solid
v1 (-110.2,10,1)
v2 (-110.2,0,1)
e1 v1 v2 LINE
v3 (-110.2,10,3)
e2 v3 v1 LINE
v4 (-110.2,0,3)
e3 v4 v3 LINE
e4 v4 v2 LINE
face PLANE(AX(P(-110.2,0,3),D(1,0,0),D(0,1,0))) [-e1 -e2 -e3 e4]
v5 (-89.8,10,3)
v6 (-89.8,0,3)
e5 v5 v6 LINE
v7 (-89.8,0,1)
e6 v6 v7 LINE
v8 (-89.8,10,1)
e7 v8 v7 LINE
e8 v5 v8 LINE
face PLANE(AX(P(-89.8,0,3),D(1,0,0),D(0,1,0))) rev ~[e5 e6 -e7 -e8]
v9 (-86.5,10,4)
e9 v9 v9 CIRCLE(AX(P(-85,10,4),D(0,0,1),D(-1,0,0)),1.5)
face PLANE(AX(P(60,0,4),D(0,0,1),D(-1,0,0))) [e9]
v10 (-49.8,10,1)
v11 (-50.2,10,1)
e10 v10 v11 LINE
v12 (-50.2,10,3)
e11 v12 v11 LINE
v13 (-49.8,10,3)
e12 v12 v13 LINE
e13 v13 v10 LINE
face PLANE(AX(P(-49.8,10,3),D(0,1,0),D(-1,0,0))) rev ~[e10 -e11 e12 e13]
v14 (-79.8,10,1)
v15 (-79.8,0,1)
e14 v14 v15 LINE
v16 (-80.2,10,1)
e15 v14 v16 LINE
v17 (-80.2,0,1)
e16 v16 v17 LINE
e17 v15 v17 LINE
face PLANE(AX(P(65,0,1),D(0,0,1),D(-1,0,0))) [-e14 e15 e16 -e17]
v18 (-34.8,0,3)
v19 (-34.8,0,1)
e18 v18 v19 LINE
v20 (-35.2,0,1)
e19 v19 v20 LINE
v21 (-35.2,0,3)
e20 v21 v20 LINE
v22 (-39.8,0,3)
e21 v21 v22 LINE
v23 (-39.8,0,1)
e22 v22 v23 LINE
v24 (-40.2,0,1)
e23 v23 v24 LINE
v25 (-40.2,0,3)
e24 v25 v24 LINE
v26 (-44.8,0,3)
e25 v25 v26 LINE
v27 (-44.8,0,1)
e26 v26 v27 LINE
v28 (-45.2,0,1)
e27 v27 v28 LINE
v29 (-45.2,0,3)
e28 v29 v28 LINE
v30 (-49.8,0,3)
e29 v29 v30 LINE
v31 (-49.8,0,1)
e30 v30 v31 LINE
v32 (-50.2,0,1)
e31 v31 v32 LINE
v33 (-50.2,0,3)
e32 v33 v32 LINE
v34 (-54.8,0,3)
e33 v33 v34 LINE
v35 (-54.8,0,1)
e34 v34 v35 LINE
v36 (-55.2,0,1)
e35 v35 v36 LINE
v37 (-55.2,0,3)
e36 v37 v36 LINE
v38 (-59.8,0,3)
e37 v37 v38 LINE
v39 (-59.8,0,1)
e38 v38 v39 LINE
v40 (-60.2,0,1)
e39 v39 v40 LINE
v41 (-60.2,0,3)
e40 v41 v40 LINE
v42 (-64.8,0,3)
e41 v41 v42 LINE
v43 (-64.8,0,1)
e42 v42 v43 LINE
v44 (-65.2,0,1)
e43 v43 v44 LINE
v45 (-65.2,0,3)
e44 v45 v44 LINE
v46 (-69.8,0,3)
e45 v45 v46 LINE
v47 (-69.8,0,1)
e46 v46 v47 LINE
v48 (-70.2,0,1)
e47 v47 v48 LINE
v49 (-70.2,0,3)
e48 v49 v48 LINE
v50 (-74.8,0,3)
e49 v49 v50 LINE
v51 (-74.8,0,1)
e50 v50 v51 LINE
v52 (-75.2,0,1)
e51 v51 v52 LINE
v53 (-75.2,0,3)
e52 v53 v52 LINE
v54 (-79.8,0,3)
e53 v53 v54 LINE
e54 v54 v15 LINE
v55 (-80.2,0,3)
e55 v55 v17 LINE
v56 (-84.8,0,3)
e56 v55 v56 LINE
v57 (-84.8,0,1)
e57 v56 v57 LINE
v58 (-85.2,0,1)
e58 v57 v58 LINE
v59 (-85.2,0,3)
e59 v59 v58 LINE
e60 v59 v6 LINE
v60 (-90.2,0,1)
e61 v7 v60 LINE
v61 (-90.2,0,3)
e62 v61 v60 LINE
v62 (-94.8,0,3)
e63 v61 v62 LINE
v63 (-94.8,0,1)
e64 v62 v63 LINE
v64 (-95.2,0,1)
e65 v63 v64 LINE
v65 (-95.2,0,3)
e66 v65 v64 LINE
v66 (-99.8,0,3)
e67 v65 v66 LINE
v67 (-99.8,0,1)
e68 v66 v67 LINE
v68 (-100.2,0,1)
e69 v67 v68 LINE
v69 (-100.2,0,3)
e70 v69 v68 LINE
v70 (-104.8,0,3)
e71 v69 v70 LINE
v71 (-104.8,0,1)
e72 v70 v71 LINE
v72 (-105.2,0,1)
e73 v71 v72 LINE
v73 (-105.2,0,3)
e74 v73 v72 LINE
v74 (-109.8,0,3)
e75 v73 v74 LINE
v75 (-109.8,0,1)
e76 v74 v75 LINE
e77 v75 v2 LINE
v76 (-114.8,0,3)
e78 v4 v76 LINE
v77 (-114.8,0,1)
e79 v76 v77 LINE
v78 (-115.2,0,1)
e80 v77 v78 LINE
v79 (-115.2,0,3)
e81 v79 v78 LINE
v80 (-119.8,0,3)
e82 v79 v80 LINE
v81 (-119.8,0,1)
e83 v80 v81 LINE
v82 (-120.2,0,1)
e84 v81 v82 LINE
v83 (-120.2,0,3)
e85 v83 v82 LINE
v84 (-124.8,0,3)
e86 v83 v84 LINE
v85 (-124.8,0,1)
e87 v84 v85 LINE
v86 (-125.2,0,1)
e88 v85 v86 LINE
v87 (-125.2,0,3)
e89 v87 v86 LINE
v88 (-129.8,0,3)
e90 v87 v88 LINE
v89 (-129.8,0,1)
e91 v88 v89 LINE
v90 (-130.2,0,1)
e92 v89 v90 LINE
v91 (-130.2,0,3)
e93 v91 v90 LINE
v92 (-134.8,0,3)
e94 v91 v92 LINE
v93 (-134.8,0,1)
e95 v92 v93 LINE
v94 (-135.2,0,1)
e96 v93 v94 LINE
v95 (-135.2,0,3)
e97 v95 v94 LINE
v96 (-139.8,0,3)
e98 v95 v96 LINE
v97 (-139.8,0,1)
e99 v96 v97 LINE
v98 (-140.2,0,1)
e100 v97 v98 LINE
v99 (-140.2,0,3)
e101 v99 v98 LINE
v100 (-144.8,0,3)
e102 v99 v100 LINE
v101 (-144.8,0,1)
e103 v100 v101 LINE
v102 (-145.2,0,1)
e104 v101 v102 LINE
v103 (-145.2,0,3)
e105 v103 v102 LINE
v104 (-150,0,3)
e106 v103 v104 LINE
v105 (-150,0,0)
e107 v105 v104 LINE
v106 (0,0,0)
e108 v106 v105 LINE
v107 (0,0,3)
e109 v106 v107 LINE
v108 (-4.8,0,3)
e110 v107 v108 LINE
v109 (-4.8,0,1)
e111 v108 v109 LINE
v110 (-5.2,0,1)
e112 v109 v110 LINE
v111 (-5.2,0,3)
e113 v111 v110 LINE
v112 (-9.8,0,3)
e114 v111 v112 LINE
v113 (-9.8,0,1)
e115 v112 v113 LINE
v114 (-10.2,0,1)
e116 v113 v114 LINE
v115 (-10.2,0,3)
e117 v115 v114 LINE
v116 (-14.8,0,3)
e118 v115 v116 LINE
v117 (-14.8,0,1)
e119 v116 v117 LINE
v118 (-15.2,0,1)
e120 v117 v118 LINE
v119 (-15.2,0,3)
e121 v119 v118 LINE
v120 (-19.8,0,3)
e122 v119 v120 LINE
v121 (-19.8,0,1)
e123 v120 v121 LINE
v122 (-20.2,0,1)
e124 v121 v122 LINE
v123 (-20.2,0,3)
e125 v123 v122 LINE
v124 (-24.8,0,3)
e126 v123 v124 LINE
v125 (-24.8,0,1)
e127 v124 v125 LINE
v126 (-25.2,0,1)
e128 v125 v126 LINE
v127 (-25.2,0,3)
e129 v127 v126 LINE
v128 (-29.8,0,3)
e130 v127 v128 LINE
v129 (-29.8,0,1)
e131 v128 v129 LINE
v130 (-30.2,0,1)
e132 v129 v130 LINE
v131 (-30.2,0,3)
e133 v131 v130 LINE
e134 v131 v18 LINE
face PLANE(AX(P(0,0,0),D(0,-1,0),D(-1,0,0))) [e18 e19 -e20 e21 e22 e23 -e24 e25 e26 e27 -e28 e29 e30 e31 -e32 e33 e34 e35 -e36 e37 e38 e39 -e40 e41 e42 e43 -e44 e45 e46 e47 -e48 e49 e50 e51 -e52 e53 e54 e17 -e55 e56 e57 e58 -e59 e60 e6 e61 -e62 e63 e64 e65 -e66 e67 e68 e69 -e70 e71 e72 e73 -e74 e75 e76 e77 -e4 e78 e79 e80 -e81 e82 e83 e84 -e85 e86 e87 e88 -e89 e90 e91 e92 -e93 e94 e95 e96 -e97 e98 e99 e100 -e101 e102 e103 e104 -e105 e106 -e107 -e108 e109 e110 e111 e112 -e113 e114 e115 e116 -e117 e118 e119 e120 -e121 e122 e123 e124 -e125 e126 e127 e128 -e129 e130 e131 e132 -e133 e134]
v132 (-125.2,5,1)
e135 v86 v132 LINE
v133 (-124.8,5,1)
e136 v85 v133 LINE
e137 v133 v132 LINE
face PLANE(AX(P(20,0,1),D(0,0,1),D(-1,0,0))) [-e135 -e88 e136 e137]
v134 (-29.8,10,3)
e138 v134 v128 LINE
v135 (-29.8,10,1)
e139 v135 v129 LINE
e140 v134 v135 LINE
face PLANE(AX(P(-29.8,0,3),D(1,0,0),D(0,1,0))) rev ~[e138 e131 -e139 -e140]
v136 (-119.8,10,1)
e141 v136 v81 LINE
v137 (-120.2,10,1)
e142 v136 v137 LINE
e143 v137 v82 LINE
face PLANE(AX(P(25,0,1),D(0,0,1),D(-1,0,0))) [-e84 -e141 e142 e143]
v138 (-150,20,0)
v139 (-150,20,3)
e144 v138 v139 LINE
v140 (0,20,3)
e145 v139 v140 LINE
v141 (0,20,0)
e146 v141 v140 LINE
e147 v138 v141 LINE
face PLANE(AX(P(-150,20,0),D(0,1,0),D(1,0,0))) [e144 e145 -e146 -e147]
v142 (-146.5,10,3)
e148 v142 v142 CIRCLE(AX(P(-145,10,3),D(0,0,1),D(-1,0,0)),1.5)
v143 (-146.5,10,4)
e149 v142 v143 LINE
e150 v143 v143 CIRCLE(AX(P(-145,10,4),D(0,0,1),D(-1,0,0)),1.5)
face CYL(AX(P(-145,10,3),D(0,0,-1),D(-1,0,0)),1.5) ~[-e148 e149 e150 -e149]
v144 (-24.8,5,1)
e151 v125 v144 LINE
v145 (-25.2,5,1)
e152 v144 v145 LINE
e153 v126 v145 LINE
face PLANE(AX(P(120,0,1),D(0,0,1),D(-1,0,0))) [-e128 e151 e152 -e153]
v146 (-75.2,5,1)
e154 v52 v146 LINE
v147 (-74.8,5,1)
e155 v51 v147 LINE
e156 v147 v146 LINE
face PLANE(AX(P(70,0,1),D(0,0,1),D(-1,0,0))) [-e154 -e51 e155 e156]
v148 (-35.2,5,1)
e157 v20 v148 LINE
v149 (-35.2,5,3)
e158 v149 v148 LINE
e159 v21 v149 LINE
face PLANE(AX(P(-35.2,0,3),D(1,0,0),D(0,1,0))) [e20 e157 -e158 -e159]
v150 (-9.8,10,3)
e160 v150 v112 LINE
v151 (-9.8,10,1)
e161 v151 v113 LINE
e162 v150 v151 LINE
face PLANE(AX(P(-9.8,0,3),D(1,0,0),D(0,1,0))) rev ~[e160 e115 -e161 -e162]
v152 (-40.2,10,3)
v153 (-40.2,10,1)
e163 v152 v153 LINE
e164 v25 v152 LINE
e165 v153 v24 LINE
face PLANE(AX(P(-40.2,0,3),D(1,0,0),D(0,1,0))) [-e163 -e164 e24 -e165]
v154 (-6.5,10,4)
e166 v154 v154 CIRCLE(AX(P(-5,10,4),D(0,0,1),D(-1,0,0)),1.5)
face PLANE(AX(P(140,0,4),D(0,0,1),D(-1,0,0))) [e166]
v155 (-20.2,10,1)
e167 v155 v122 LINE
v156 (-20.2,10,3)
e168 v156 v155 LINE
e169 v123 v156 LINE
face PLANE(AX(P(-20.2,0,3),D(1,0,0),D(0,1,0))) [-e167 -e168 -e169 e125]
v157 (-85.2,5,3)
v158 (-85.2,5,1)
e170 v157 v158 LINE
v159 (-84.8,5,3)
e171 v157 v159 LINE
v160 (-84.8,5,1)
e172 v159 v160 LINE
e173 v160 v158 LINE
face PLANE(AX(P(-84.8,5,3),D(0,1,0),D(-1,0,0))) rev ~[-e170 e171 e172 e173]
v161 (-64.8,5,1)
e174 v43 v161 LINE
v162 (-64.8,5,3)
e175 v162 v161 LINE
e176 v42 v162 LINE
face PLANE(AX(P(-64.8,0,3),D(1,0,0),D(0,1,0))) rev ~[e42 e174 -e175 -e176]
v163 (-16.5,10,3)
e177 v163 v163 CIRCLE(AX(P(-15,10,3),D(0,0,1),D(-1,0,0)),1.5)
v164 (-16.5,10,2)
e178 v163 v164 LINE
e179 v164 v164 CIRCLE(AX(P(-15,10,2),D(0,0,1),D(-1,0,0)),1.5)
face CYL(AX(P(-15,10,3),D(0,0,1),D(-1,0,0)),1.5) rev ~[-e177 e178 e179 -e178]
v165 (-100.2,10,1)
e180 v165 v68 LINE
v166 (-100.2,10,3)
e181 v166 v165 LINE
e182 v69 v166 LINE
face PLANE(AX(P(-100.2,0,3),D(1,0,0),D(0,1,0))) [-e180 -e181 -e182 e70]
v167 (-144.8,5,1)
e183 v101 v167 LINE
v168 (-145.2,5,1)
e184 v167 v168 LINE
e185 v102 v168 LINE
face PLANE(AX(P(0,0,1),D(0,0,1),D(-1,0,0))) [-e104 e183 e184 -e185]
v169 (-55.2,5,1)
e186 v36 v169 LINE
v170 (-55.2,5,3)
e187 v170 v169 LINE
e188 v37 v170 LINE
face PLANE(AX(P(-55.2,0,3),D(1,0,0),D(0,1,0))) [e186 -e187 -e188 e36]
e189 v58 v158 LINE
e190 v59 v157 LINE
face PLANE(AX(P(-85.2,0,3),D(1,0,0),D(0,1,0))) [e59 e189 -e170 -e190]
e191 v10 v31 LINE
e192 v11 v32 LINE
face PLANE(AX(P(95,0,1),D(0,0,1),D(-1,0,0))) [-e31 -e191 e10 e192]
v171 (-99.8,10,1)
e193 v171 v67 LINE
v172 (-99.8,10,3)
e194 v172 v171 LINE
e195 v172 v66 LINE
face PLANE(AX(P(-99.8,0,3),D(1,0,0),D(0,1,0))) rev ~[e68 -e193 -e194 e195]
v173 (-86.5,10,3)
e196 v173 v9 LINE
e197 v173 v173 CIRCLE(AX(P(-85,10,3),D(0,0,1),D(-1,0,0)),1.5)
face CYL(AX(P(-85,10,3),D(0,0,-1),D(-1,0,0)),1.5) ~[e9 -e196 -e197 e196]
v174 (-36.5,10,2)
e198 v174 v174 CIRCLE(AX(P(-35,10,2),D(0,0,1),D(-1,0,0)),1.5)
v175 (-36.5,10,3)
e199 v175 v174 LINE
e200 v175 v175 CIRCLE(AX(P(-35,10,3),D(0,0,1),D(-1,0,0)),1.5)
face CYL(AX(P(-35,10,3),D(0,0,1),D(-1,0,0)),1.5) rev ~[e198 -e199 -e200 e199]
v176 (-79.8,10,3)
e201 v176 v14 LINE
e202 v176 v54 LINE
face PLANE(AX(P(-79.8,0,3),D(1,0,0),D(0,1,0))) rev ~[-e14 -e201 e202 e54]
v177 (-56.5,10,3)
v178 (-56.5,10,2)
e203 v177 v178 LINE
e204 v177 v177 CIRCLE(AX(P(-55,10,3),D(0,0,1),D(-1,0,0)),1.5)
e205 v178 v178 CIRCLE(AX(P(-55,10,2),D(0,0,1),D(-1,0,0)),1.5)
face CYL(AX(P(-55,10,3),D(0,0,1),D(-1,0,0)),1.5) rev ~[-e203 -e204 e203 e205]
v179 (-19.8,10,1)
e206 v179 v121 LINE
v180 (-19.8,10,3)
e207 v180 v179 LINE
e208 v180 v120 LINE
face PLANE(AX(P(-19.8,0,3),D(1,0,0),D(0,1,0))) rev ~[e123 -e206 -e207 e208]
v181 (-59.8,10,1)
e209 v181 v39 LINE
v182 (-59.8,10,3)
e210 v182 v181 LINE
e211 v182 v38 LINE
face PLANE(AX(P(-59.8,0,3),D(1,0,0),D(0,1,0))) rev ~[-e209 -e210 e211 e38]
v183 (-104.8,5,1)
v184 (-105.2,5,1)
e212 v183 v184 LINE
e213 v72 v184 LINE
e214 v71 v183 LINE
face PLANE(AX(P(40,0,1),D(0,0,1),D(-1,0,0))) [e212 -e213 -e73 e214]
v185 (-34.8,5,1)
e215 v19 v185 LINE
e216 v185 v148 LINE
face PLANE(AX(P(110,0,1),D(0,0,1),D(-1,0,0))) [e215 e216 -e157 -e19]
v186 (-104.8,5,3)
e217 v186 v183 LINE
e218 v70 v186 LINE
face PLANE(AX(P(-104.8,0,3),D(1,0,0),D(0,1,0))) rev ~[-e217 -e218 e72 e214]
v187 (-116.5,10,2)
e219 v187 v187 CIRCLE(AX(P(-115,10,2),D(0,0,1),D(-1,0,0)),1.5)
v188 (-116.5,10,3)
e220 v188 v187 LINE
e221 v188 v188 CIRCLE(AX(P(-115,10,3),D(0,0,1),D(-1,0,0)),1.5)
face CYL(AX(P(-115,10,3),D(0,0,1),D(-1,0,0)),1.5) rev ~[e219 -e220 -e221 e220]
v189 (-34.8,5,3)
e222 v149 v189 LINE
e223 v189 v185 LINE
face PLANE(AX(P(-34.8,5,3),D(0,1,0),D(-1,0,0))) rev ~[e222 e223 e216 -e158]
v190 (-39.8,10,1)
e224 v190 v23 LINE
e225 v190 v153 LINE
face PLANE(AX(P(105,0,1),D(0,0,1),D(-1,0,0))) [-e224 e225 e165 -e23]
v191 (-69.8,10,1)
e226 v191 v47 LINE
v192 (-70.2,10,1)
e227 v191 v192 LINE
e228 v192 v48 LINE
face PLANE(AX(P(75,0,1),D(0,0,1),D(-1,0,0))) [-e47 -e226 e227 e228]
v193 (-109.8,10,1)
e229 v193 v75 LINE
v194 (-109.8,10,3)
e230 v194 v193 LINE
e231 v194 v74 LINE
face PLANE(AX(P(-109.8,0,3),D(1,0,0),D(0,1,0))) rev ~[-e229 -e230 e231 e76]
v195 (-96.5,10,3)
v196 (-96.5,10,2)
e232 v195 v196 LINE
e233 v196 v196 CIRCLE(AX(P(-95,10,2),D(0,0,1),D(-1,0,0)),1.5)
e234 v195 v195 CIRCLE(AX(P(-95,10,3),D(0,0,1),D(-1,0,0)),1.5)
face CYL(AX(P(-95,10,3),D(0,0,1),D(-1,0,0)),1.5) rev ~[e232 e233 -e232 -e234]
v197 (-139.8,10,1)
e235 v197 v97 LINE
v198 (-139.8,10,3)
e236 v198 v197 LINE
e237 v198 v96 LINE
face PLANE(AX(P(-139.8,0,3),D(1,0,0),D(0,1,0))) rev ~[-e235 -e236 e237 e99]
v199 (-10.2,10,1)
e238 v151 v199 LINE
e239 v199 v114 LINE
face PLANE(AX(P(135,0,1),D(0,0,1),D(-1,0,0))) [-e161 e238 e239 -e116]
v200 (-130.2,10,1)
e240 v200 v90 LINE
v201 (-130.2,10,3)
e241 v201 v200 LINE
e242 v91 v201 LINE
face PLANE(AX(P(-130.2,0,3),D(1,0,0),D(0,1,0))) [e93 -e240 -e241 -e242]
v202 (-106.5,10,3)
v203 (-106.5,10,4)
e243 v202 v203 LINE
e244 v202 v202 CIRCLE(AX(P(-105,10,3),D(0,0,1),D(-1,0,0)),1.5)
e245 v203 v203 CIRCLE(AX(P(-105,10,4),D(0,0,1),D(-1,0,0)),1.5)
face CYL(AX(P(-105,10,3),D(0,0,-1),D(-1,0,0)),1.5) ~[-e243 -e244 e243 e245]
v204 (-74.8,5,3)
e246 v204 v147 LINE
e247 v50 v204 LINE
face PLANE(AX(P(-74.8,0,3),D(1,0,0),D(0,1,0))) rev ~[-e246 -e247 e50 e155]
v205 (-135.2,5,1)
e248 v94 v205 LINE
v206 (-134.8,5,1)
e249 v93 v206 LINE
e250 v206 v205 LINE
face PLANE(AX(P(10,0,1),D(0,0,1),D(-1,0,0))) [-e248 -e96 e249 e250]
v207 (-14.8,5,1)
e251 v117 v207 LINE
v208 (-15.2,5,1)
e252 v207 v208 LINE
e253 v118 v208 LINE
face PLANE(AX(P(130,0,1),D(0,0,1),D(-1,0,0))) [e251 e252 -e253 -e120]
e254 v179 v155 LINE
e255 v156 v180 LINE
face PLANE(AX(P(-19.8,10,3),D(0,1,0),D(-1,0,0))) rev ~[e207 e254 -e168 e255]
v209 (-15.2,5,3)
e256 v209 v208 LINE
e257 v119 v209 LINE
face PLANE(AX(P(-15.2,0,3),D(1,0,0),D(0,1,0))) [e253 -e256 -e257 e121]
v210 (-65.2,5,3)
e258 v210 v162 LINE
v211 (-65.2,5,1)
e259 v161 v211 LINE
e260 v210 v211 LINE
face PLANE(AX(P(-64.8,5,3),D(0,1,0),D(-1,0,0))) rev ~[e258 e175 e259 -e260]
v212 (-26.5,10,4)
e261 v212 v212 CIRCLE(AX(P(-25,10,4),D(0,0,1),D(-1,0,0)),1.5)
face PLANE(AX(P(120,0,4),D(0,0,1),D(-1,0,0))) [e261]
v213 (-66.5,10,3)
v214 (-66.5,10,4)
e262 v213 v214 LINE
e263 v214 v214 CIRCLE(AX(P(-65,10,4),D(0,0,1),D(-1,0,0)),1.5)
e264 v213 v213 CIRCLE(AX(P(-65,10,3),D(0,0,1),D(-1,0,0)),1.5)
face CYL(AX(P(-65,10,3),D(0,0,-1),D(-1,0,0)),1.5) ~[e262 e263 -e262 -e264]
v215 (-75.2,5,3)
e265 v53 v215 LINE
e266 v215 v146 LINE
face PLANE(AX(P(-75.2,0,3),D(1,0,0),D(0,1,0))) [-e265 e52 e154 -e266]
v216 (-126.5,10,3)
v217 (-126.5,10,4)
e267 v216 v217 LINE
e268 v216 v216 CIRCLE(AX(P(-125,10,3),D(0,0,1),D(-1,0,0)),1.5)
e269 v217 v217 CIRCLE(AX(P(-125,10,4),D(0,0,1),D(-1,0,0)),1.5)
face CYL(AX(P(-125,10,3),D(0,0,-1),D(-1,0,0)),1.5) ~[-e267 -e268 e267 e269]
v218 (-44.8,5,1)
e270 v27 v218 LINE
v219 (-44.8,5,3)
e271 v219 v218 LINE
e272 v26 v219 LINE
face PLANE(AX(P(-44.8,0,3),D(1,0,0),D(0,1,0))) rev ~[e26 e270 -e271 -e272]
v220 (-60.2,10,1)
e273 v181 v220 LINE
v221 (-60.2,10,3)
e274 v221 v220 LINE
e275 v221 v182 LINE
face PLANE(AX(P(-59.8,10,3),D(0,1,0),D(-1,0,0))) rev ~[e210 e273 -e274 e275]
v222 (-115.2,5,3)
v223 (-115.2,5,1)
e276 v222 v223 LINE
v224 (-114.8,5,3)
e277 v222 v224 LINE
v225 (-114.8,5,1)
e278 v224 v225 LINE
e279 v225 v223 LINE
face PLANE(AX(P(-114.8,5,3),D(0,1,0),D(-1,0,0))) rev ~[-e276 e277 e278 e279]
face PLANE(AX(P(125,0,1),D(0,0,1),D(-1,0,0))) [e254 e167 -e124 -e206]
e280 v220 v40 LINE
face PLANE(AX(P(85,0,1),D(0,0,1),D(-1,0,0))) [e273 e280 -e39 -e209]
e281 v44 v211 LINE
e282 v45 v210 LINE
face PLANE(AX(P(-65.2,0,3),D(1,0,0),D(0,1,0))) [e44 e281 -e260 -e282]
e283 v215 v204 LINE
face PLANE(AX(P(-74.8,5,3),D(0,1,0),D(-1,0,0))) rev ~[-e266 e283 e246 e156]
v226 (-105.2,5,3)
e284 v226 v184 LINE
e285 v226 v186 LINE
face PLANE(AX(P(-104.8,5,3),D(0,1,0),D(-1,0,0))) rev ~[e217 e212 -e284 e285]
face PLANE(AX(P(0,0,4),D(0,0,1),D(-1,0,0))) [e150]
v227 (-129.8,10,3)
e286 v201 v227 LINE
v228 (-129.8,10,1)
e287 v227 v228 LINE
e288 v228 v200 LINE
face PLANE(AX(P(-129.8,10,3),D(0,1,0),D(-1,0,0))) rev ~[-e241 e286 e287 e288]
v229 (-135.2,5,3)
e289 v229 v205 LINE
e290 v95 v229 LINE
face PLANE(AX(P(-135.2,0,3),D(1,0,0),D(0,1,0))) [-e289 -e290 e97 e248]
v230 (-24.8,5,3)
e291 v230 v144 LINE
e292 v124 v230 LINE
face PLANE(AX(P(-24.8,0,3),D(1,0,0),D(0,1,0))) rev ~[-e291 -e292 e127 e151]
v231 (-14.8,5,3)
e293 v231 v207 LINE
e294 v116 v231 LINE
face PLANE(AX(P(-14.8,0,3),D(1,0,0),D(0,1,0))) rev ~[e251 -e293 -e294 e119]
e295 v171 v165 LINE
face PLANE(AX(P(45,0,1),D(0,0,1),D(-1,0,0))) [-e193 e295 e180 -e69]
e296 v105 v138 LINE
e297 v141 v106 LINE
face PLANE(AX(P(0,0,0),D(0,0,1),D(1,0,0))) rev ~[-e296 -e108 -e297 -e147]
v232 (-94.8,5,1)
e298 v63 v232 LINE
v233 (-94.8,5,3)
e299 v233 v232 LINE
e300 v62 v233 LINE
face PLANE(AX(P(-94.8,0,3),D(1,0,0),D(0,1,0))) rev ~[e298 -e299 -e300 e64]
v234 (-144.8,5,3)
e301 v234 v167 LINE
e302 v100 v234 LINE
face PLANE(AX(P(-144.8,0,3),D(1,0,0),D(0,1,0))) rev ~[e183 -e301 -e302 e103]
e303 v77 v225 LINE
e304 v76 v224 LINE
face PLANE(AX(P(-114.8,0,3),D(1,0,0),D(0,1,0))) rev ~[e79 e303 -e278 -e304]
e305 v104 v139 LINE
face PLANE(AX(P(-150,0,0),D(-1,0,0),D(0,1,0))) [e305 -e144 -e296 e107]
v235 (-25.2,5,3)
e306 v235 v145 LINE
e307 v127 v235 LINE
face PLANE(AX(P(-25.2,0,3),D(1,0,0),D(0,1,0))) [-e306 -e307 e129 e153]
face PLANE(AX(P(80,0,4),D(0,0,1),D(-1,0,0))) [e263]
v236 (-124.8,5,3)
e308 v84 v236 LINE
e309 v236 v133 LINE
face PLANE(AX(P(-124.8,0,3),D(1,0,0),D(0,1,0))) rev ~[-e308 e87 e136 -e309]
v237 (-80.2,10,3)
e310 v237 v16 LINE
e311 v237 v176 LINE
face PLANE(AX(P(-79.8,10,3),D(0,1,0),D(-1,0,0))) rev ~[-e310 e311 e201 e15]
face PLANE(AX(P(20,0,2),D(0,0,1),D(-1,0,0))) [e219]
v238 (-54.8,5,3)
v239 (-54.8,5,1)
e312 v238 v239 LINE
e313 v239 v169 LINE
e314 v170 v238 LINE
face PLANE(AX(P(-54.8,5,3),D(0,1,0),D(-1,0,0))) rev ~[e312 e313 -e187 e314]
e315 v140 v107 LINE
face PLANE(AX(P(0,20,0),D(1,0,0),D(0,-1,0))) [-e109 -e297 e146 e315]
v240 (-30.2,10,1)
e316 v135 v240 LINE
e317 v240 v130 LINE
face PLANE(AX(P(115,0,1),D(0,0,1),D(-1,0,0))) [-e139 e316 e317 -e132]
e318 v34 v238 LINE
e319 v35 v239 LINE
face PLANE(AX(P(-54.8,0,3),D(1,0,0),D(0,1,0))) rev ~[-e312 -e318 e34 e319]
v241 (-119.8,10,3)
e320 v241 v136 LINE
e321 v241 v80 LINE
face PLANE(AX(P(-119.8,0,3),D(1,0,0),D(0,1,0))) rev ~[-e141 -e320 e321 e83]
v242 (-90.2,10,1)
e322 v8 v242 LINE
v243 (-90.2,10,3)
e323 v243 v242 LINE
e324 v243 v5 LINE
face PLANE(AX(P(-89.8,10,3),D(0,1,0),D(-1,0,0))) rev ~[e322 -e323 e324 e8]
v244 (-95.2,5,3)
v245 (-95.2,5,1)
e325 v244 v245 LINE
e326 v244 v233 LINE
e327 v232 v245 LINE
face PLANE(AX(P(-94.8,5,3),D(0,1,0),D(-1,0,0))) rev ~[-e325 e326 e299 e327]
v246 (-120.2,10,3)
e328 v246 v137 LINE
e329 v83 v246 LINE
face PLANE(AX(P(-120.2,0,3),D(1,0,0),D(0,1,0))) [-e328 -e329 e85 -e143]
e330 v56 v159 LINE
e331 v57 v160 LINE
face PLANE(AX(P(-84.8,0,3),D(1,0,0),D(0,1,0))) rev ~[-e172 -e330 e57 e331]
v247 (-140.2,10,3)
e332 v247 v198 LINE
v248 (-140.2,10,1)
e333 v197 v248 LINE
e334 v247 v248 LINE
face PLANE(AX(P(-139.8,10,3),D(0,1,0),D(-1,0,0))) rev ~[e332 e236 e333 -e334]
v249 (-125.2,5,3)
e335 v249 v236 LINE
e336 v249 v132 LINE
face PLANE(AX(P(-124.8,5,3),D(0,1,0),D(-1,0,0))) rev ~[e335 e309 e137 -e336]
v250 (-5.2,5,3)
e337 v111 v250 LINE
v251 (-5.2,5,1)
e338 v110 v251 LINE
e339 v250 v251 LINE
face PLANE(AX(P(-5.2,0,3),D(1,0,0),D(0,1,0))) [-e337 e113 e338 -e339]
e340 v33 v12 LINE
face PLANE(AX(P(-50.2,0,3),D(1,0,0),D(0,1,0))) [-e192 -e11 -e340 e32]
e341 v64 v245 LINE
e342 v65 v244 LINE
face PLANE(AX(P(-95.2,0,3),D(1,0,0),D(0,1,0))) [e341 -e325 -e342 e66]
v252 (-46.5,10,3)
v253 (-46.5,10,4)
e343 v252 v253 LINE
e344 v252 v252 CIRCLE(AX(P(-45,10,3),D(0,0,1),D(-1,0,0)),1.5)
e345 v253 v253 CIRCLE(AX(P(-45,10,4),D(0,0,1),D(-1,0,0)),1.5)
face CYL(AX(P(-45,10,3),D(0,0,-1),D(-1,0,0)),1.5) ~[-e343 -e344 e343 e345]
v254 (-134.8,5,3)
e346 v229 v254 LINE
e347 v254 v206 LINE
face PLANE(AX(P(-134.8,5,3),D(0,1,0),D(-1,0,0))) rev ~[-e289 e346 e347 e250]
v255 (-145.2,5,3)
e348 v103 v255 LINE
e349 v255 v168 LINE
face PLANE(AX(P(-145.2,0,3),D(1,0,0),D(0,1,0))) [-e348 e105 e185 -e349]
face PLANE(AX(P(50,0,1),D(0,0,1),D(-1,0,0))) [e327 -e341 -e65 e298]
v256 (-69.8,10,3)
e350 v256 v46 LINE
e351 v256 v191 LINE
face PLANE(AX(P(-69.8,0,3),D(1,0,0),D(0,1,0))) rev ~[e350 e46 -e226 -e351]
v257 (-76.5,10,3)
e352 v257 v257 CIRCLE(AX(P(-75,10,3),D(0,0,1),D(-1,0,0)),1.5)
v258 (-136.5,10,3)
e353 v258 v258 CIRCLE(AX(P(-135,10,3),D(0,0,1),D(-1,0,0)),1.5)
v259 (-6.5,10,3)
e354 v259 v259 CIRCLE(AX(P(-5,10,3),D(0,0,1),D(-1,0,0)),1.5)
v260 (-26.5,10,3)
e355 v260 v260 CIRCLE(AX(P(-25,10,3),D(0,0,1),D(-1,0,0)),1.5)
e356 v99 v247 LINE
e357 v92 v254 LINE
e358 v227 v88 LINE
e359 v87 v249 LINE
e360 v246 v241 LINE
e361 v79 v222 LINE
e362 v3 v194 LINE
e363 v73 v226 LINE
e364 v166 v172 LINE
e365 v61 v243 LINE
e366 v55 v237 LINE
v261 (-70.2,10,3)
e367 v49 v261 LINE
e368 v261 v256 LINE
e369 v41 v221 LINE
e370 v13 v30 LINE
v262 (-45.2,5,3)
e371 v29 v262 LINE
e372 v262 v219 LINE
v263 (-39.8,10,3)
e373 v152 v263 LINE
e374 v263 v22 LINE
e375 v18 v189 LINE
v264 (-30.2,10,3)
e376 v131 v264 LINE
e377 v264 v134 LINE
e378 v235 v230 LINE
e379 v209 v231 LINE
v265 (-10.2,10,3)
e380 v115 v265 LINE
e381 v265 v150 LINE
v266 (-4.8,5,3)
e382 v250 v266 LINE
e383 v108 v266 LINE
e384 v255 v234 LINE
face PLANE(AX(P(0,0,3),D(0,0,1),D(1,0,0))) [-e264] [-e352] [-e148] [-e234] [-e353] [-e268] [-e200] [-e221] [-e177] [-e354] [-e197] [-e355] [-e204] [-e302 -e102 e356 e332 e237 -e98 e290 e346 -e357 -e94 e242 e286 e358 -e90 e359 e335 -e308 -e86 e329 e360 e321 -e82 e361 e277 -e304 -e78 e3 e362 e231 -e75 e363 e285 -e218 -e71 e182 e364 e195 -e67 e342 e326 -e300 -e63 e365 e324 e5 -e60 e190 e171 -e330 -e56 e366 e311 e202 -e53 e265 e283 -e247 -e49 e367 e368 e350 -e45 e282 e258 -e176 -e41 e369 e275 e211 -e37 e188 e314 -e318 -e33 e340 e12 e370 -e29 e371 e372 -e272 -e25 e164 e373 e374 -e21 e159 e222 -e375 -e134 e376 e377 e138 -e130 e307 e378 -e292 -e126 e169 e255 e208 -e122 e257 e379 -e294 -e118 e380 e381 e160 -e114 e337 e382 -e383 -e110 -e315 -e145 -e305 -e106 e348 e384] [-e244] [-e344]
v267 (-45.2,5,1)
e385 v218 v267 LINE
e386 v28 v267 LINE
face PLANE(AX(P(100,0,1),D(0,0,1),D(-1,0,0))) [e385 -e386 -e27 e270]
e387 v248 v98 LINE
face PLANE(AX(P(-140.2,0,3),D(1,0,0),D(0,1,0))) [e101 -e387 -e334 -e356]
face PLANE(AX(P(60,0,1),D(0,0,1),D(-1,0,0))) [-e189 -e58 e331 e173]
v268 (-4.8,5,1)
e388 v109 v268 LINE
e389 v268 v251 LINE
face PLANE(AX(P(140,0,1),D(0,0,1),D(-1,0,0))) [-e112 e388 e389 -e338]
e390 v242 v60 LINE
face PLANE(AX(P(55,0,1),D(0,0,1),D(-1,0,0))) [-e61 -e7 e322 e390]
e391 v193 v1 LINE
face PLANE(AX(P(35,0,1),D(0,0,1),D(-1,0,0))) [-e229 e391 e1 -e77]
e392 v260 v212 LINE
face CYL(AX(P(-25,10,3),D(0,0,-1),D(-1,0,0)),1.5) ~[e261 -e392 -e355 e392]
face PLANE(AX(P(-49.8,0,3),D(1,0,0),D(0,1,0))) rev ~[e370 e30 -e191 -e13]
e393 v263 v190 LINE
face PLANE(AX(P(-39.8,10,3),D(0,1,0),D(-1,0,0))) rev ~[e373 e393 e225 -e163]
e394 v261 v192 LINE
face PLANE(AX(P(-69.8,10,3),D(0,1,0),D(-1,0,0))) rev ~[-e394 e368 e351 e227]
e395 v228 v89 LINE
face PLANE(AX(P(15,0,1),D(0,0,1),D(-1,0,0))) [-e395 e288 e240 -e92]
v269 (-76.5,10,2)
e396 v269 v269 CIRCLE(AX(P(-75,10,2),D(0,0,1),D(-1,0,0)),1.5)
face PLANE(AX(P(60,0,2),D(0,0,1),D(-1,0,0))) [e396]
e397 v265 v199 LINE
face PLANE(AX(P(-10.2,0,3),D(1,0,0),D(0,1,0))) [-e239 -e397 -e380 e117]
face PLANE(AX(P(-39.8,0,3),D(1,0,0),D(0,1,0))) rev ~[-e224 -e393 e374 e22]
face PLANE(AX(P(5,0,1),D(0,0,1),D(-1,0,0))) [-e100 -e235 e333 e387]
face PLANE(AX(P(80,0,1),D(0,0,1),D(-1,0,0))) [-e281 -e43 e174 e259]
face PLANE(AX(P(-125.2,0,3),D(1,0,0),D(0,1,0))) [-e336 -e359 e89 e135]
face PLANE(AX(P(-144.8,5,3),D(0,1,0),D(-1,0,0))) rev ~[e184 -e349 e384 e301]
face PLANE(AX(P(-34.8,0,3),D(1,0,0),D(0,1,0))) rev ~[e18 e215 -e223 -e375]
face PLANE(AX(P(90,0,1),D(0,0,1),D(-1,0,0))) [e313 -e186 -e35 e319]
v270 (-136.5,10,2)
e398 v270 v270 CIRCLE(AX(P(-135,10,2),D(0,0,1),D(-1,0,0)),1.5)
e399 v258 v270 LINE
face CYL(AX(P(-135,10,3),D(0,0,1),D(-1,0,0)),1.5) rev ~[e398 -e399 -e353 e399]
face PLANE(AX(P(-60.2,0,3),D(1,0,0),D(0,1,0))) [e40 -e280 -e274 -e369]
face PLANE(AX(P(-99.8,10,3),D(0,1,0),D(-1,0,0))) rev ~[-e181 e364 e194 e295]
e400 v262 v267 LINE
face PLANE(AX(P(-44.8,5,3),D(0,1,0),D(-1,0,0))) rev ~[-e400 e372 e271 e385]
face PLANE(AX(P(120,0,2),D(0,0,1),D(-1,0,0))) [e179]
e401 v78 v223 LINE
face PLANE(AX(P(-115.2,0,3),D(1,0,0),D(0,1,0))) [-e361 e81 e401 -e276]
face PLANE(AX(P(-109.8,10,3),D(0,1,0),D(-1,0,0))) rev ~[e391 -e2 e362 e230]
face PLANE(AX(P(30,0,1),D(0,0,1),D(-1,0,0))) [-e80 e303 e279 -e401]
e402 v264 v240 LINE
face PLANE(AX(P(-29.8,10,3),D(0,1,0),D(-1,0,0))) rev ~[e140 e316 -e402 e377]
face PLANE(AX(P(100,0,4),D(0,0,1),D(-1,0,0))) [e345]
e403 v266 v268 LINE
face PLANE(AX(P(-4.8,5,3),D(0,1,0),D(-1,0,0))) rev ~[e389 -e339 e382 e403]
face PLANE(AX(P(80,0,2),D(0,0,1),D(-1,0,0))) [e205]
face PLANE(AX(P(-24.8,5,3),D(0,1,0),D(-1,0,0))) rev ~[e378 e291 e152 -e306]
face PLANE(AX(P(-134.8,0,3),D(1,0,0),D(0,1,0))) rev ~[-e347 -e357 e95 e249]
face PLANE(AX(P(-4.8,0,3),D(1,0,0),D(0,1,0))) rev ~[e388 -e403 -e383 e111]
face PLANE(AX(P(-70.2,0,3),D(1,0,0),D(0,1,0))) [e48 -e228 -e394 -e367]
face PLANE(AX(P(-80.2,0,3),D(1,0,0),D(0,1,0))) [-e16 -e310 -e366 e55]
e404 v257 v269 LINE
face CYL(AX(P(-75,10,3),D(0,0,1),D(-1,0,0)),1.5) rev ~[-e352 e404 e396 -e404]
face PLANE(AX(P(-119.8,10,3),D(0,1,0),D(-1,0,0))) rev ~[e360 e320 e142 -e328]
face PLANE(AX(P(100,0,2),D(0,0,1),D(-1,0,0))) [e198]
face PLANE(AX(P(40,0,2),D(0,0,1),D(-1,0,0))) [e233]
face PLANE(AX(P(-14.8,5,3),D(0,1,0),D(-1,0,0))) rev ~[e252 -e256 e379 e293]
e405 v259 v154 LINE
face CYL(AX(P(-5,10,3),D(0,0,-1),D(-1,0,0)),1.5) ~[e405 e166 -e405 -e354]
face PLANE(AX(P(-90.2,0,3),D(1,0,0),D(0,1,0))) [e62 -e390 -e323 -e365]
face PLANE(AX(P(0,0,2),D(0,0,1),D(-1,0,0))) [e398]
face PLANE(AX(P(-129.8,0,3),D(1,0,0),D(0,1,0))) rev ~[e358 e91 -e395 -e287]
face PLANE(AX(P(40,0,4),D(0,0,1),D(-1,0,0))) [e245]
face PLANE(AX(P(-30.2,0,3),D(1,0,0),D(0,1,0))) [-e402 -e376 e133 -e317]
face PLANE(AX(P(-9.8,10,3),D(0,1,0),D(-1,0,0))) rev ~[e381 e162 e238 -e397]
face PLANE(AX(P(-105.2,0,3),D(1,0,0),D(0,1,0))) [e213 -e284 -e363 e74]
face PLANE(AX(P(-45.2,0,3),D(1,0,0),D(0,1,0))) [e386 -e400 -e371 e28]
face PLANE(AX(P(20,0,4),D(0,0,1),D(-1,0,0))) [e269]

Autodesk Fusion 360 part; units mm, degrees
sketch "Sketch1" plane through (0, 0, 0) normal (0, 0, 1) x (1, 0, 0)
  line L0 (0, 0) -> (-150, 0)
  line L1 (-150, 0) -> (-150, 20)
  line L2 (-150, 20) -> (0, 20)
  line L3 (0, 20) -> (0, 0)
  dimension "d1" = 150
  dimension "d2" = 20
extrude "Extrude1" add sketch "Sketch1" along normal blind 3
sketch "Sketch2" plane through (0, 0, 3) normal (0, 0, 1) x (-1, 0, 0)
  line L0 (0, -20) -> (150, -20)
  line L1 (150, -20) -> (150, 0)
  line L2 (150, 0) -> (0, 0)
  line L3 (0, 0) -> (0, -20)
  line L4 (150, 0) -> (145, 0)
  line L5 (145, 0) -> (145.2, 0)
  line L6 (145.2, 0) -> (145.2, -5)
  line L7 (145.2, -5) -> (145, -5)
  line L8 (145, -5) -> (145, 0)
  line L9 (145, 0) -> (144.8, 0)
  line L10 (144.8, 0) -> (144.8, -5)
  line L11 (144.8, -5) -> (145, -5)
  line L12 (145, -5) -> (145, 0)
  dimension "d5" = 0.2
  dimension "d6" = 5
  dimension "d7" = 5
extrude "Extrude2" cut sketch "Sketch2" against normal blind 2 contours L2 L8 L9 L10 L11 L12 | L2 L4 L5 L6 L7 L8 L12
pattern_linear "R-Pattern1" count 29 spacing 5 along (1, 0, 0) of "Extrude2"
extrude "Extrude3" cut 14 faces at (-139.9333, 5, 2.3333) (-129.9333, 5, 2.3333) (-119.9333, 5, 2.3333) (-109.9333, 5, 2.3333) (-99.9333, 5, 2.3333) (-89.9333, 5, 2.3333) (-79.9333, 5, 2.3333) (-69.9333, 5, 2.3333) (-59.9333, 5, 2.3333) (-49.9333, 5, 2.3333) (-39.9333, 5, 2.3333) (-29.9333, 5, 2.3333) (-19.9333, 5, 2.3333) (-9.9333, 5, 2.3333) along direction (0, 1, 0) blind 5
sketch "Sketch3" plane through (0, 0, 3) normal (0, 0, 1) x (-1, 0, 0)
  line L0 (19.8, -10) -> (19.8, 0)
  line L1 (19.8, 0) -> (15.2, 0)
  line L2 (15.2, 0) -> (15.2, -5)
  line L3 (15.2, -5) -> (14.8, -5)
  line L4 (14.8, -5) -> (14.8, 0)
  line L5 (14.8, 0) -> (10.2, 0)
  line L6 (10.2, 0) -> (10.2, -10)
  line L7 (10.2, -10) -> (9.8, -10)
  line L8 (9.8, -10) -> (9.8, 0)
  line L9 (9.8, 0) -> (5.2, 0)
  line L10 (5.2, 0) -> (5.2, -5)
  line L11 (5.2, -5) -> (4.8, -5)
  line L12 (4.8, -5) -> (4.8, 0)
  line L13 (4.8, 0) -> (0, 0)
  line L14 (0, 0) -> (0, -20)
  line L15 (0, -20) -> (150, -20)
  line L16 (150, -20) -> (150, 0)
  line L17 (150, 0) -> (145.2, 0)
  line L18 (145.2, 0) -> (145.2, -5)
  line L19 (145.2, -5) -> (144.8, -5)
  line L20 (144.8, -5) -> (144.8, 0)
  line L21 (144.8, 0) -> (140.2, 0)
  line L22 (140.2, 0) -> (140.2, -10)
  line L23 (140.2, -10) -> (139.8, -10)
  line L24 (139.8, -10) -> (139.8, 0)
  line L25 (139.8, 0) -> (135.2, 0)
  line L26 (135.2, 0) -> (135.2, -5)
  line L27 (135.2, -5) -> (134.8, -5)
  line L28 (134.8, -5) -> (134.8, 0)
  line L29 (134.8, 0) -> (130.2, 0)
  line L30 (130.2, 0) -> (130.2, -10)
  line L31 (130.2, -10) -> (129.8, -10)
  line L32 (129.8, -10) -> (129.8, 0)
  line L33 (129.8, 0) -> (125.2, 0)
  line L34 (125.2, 0) -> (125.2, -5)
  line L35 (125.2, -5) -> (124.8, -5)
  line L36 (124.8, -5) -> (124.8, 0)
  line L37 (124.8, 0) -> (120.2, 0)
  line L38 (120.2, 0) -> (120.2, -10)
  line L39 (120.2, -10) -> (119.8, -10)
  line L40 (119.8, -10) -> (119.8, 0)
  line L41 (119.8, 0) -> (115.2, 0)
  line L42 (115.2, 0) -> (115.2, -5)
  line L43 (115.2, -5) -> (114.8, -5)
  line L44 (114.8, -5) -> (114.8, 0)
  line L45 (114.8, 0) -> (110.2, 0)
  line L46 (110.2, 0) -> (110.2, -10)
  line L47 (110.2, -10) -> (109.8, -10)
  line L48 (109.8, -10) -> (109.8, 0)
  line L49 (109.8, 0) -> (105.2, 0)
  line L50 (105.2, 0) -> (105.2, -5)
  line L51 (105.2, -5) -> (104.8, -5)
  line L52 (104.8, -5) -> (104.8, 0)
  line L53 (104.8, 0) -> (100.2, 0)
  line L54 (100.2, 0) -> (100.2, -10)
  line L55 (100.2, -10) -> (99.8, -10)
  line L56 (99.8, -10) -> (99.8, 0)
  line L57 (99.8, 0) -> (95.2, 0)
  line L58 (95.2, 0) -> (95.2, -5)
  line L59 (95.2, -5) -> (94.8, -5)
  line L60 (94.8, -5) -> (94.8, 0)
  line L61 (94.8, 0) -> (90.2, 0)
  line L62 (90.2, 0) -> (90.2, -10)
  line L63 (90.2, -10) -> (89.8, -10)
  line L64 (89.8, -10) -> (89.8, 0)
  line L65 (89.8, 0) -> (85.2, 0)
  line L66 (85.2, 0) -> (85.2, -5)
  line L67 (85.2, -5) -> (84.8, -5)
  line L68 (84.8, -5) -> (84.8, 0)
  line L69 (84.8, 0) -> (80.2, 0)
  line L70 (80.2, 0) -> (80.2, -10)
  line L71 (80.2, -10) -> (79.8, -10)
  line L72 (79.8, -10) -> (79.8, 0)
  line L73 (79.8, 0) -> (75.2, 0)
  line L74 (75.2, 0) -> (75.2, -5)
  line L75 (75.2, -5) -> (74.8, -5)
  line L76 (74.8, -5) -> (74.8, 0)
  line L77 (74.8, 0) -> (70.2, 0)
  line L78 (70.2, 0) -> (70.2, -10)
  line L79 (70.2, -10) -> (69.8, -10)
  line L80 (69.8, -10) -> (69.8, 0)
  line L81 (69.8, 0) -> (65.2, 0)
  line L82 (65.2, 0) -> (65.2, -5)
  line L83 (65.2, -5) -> (64.8, -5)
  line L84 (64.8, -5) -> (64.8, 0)
  line L85 (64.8, 0) -> (60.2, 0)
  line L86 (60.2, 0) -> (60.2, -10)
  line L87 (60.2, -10) -> (59.8, -10)
  line L88 (59.8, -10) -> (59.8, 0)
  line L89 (59.8, 0) -> (55.2, 0)
  line L90 (55.2, 0) -> (55.2, -5)
  line L91 (55.2, -5) -> (54.8, -5)
  line L92 (54.8, -5) -> (54.8, 0)
  line L93 (54.8, 0) -> (50.2, 0)
  line L94 (50.2, 0) -> (50.2, -10)
  line L95 (50.2, -10) -> (49.8, -10)
  line L96 (49.8, -10) -> (49.8, 0)
  line L97 (49.8, 0) -> (45.2, 0)
  line L98 (45.2, 0) -> (45.2, -5)
  line L99 (45.2, -5) -> (44.8, -5)
  line L100 (44.8, -5) -> (44.8, 0)
  line L101 (44.8, 0) -> (40.2, 0)
  line L102 (40.2, 0) -> (40.2, -10)
  line L103 (40.2, -10) -> (39.8, -10)
  line L104 (39.8, -10) -> (39.8, 0)
  line L105 (39.8, 0) -> (35.2, 0)
  line L106 (35.2, 0) -> (35.2, -5)
  line L107 (35.2, -5) -> (34.8, -5)
  line L108 (34.8, -5) -> (34.8, 0)
  line L109 (34.8, 0) -> (30.2, 0)
  line L110 (30.2, 0) -> (30.2, -10)
  line L111 (30.2, -10) -> (29.8, -10)
  line L112 (29.8, -10) -> (29.8, 0)
  line L113 (29.8, 0) -> (25.2, 0)
  line L114 (25.2, 0) -> (25.2, -5)
  line L115 (25.2, -5) -> (24.8, -5)
  line L116 (24.8, -5) -> (24.8, 0)
  line L117 (24.8, 0) -> (20.2, 0)
  line L118 (20.2, 0) -> (20.2, -10)
  line L119 (20.2, -10) -> (19.8, -10)
  circle A0 centre (145, -10) radius 1.5
  dimension "d16" = 3
extrude "Extrude4" add sketch "Sketch3" along normal blind 1 contours A0
pattern_linear "R-Pattern2" count 8 spacing 20 along (1, 0, 0) of "Extrude4"
sketch "Sketch4" plane through (0, 0, 3) normal (0, 0, 1) x (-1, 0, 0)
  circle A0 centre (5, -10) radius 1.5
  circle A1 centre (25, -10) radius 1.5
  circle A2 centre (45, -10) radius 1.5
  circle A3 centre (65, -10) radius 1.5
  circle A4 centre (85, -10) radius 1.5
  circle A5 centre (105, -10) radius 1.5
  circle A6 centre (125, -10) radius 1.5
  circle A7 centre (145, -10) radius 1.5
  line L0 (19.8, -10) -> (19.8, 0)
  line L1 (19.8, 0) -> (15.2, 0)
  line L2 (15.2, 0) -> (15.2, -5)
  line L3 (15.2, -5) -> (14.8, -5)
  line L4 (14.8, -5) -> (14.8, 0)
  line L5 (14.8, 0) -> (10.2, 0)
  line L6 (10.2, 0) -> (10.2, -10)
  line L7 (10.2, -10) -> (9.8, -10)
  line L8 (9.8, -10) -> (9.8, 0)
  line L9 (9.8, 0) -> (5.2, 0)
  line L10 (5.2, 0) -> (5.2, -5)
  line L11 (5.2, -5) -> (4.8, -5)
  line L12 (4.8, -5) -> (4.8, 0)
  line L13 (4.8, 0) -> (0, 0)
  line L14 (0, 0) -> (0, -20)
  line L15 (0, -20) -> (150, -20)
  line L16 (150, -20) -> (150, 0)
  line L17 (150, 0) -> (145.2, 0)
  line L18 (145.2, 0) -> (145.2, -5)
  line L19 (145.2, -5) -> (144.8, -5)
  line L20 (144.8, -5) -> (144.8, 0)
  line L21 (144.8, 0) -> (140.2, 0)
  line L22 (140.2, 0) -> (140.2, -10)
  line L23 (140.2, -10) -> (139.8, -10)
  line L24 (139.8, -10) -> (139.8, 0)
  line L25 (139.8, 0) -> (135.2, 0)
  line L26 (135.2, 0) -> (135.2, -5)
  line L27 (135.2, -5) -> (134.8, -5)
  line L28 (134.8, -5) -> (134.8, 0)
  line L29 (134.8, 0) -> (130.2, 0)
  line L30 (130.2, 0) -> (130.2, -10)
  line L31 (130.2, -10) -> (129.8, -10)
  line L32 (129.8, -10) -> (129.8, 0)
  line L33 (129.8, 0) -> (125.2, 0)
  line L34 (125.2, 0) -> (125.2, -5)
  line L35 (125.2, -5) -> (124.8, -5)
  line L36 (124.8, -5) -> (124.8, 0)
  line L37 (124.8, 0) -> (120.2, 0)
  line L38 (120.2, 0) -> (120.2, -10)
  line L39 (120.2, -10) -> (119.8, -10)
  line L40 (119.8, -10) -> (119.8, 0)
  line L41 (119.8, 0) -> (115.2, 0)
  line L42 (115.2, 0) -> (115.2, -5)
  line L43 (115.2, -5) -> (114.8, -5)
  line L44 (114.8, -5) -> (114.8, 0)
  line L45 (114.8, 0) -> (110.2, 0)
  line L46 (110.2, 0) -> (110.2, -10)
  line L47 (110.2, -10) -> (109.8, -10)
  line L48 (109.8, -10) -> (109.8, 0)
  line L49 (109.8, 0) -> (105.2, 0)
  line L50 (105.2, 0) -> (105.2, -5)
  line L51 (105.2, -5) -> (104.8, -5)
  line L52 (104.8, -5) -> (104.8, 0)
  line L53 (104.8, 0) -> (100.2, 0)
  line L54 (100.2, 0) -> (100.2, -10)
  line L55 (100.2, -10) -> (99.8, -10)
  line L56 (99.8, -10) -> (99.8, 0)
  line L57 (99.8, 0) -> (95.2, 0)
  line L58 (95.2, 0) -> (95.2, -5)
  line L59 (95.2, -5) -> (94.8, -5)
  line L60 (94.8, -5) -> (94.8, 0)
  line L61 (94.8, 0) -> (90.2, 0)
  line L62 (90.2, 0) -> (90.2, -10)
  line L63 (90.2, -10) -> (89.8, -10)
  line L64 (89.8, -10) -> (89.8, 0)
  line L65 (89.8, 0) -> (85.2, 0)
  line L66 (85.2, 0) -> (85.2, -5)
  line L67 (85.2, -5) -> (84.8, -5)
  line L68 (84.8, -5) -> (84.8, 0)
  line L69 (84.8, 0) -> (80.2, 0)
  line L70 (80.2, 0) -> (80.2, -10)
  line L71 (80.2, -10) -> (79.8, -10)
  line L72 (79.8, -10) -> (79.8, 0)
  line L73 (79.8, 0) -> (75.2, 0)
  line L74 (75.2, 0) -> (75.2, -5)
  line L75 (75.2, -5) -> (74.8, -5)
  line L76 (74.8, -5) -> (74.8, 0)
  line L77 (74.8, 0) -> (70.2, 0)
  line L78 (70.2, 0) -> (70.2, -10)
  line L79 (70.2, -10) -> (69.8, -10)
  line L80 (69.8, -10) -> (69.8, 0)
  line L81 (69.8, 0) -> (65.2, 0)
  line L82 (65.2, 0) -> (65.2, -5)
  line L83 (65.2, -5) -> (64.8, -5)
  line L84 (64.8, -5) -> (64.8, 0)
  line L85 (64.8, 0) -> (60.2, 0)
  line L86 (60.2, 0) -> (60.2, -10)
  line L87 (60.2, -10) -> (59.8, -10)
  line L88 (59.8, -10) -> (59.8, 0)
  line L89 (59.8, 0) -> (55.2, 0)
  line L90 (55.2, 0) -> (55.2, -5)
  line L91 (55.2, -5) -> (54.8, -5)
  line L92 (54.8, -5) -> (54.8, 0)
  line L93 (54.8, 0) -> (50.2, 0)
  line L94 (50.2, 0) -> (50.2, -10)
  line L95 (50.2, -10) -> (49.8, -10)
  line L96 (49.8, -10) -> (49.8, 0)
  line L97 (49.8, 0) -> (45.2, 0)
  line L98 (45.2, 0) -> (45.2, -5)
  line L99 (45.2, -5) -> (44.8, -5)
  line L100 (44.8, -5) -> (44.8, 0)
  line L101 (44.8, 0) -> (40.2, 0)
  line L102 (40.2, 0) -> (40.2, -10)
  line L103 (40.2, -10) -> (39.8, -10)
  line L104 (39.8, -10) -> (39.8, 0)
  line L105 (39.8, 0) -> (35.2, 0)
  line L106 (35.2, 0) -> (35.2, -5)
  line L107 (35.2, -5) -> (34.8, -5)
  line L108 (34.8, -5) -> (34.8, 0)
  line L109 (34.8, 0) -> (30.2, 0)
  line L110 (30.2, 0) -> (30.2, -10)
  line L111 (30.2, -10) -> (29.8, -10)
  line L112 (29.8, -10) -> (29.8, 0)
  line L113 (29.8, 0) -> (25.2, 0)
  line L114 (25.2, 0) -> (25.2, -5)
  line L115 (25.2, -5) -> (24.8, -5)
  line L116 (24.8, -5) -> (24.8, 0)
  line L117 (24.8, 0) -> (20.2, 0)
  line L118 (20.2, 0) -> (20.2, -10)
  line L119 (20.2, -10) -> (19.8, -10)
  circle A8 centre (135, -10) radius 1.5
  dimension "d23" = 3
extrude "Extrude5" cut sketch "Sketch4" against normal blind 1 contours A8
pattern_linear "R-Pattern3" count 8 spacing 20 along (1, 0, 0) of "Extrude5"
sketch "Sketch5" plane through (0, 0, 3) normal (0, 0, 1) x (-1, 0, 0)
  circle A0 centre (15, -10) radius 1.5
  circle A1 centre (35, -10) radius 1.5
  circle A2 centre (55, -10) radius 1.5
  circle A3 centre (75, -10) radius 1.5
  circle A4 centre (95, -10) radius 1.5
  circle A5 centre (115, -10) radius 1.5
  circle A6 centre (135, -10) radius 1.5
  circle A7 centre (5, -10) radius 1.5
  circle A8 centre (25, -10) radius 1.5
  circle A9 centre (45, -10) radius 1.5
  circle A10 centre (65, -10) radius 1.5
  circle A11 centre (85, -10) radius 1.5
  circle A12 centre (105, -10) radius 1.5
  circle A13 centre (125, -10) radius 1.5
  circle A14 centre (145, -10) radius 1.5
  line L0 (19.8, -10) -> (19.8, 0)
  line L1 (19.8, 0) -> (15.2, 0)
  line L2 (15.2, 0) -> (15.2, -5)
  line L3 (15.2, -5) -> (14.8, -5)
  line L4 (14.8, -5) -> (14.8, 0)
  line L5 (14.8, 0) -> (10.2, 0)
  line L6 (10.2, 0) -> (10.2, -10)
  line L7 (10.2, -10) -> (9.8, -10)
  line L8 (9.8, -10) -> (9.8, 0)
  line L9 (9.8, 0) -> (5.2, 0)
  line L10 (5.2, 0) -> (5.2, -5)
  line L11 (5.2, -5) -> (4.8, -5)
  line L12 (4.8, -5) -> (4.8, 0)
  line L13 (4.8, 0) -> (0, 0)
  line L14 (0, 0) -> (0, -20)
  line L15 (0, -20) -> (150, -20)
  line L16 (150, -20) -> (150, 0)
  line L17 (150, 0) -> (145.2, 0)
  line L18 (145.2, 0) -> (145.2, -5)
  line L19 (145.2, -5) -> (144.8, -5)
  line L20 (144.8, -5) -> (144.8, 0)
  line L21 (144.8, 0) -> (140.2, 0)
  line L22 (140.2, 0) -> (140.2, -10)
  line L23 (140.2, -10) -> (139.8, -10)
  line L24 (139.8, -10) -> (139.8, 0)
  line L25 (139.8, 0) -> (135.2, 0)
  line L26 (135.2, 0) -> (135.2, -5)
  line L27 (135.2, -5) -> (134.8, -5)
  line L28 (134.8, -5) -> (134.8, 0)
  line L29 (134.8, 0) -> (130.2, 0)
  line L30 (130.2, 0) -> (130.2, -10)
  line L31 (130.2, -10) -> (129.8, -10)
  line L32 (129.8, -10) -> (129.8, 0)
  line L33 (129.8, 0) -> (125.2, 0)
  line L34 (125.2, 0) -> (125.2, -5)
  line L35 (125.2, -5) -> (124.8, -5)
  line L36 (124.8, -5) -> (124.8, 0)
  line L37 (124.8, 0) -> (120.2, 0)
  line L38 (120.2, 0) -> (120.2, -10)
  line L39 (120.2, -10) -> (119.8, -10)
  line L40 (119.8, -10) -> (119.8, 0)
  line L41 (119.8, 0) -> (115.2, 0)
  line L42 (115.2, 0) -> (115.2, -5)
  line L43 (115.2, -5) -> (114.8, -5)
  line L44 (114.8, -5) -> (114.8, 0)
  line L45 (114.8, 0) -> (110.2, 0)
  line L46 (110.2, 0) -> (110.2, -10)
  line L47 (110.2, -10) -> (109.8, -10)
  line L48 (109.8, -10) -> (109.8, 0)
  line L49 (109.8, 0) -> (105.2, 0)
  line L50 (105.2, 0) -> (105.2, -5)
  line L51 (105.2, -5) -> (104.8, -5)
  line L52 (104.8, -5) -> (104.8, 0)
  line L53 (104.8, 0) -> (100.2, 0)
  line L54 (100.2, 0) -> (100.2, -10)
  line L55 (100.2, -10) -> (99.8, -10)
  line L56 (99.8, -10) -> (99.8, 0)
  line L57 (99.8, 0) -> (95.2, 0)
  line L58 (95.2, 0) -> (95.2, -5)
  line L59 (95.2, -5) -> (94.8, -5)
  line L60 (94.8, -5) -> (94.8, 0)
  line L61 (94.8, 0) -> (90.2, 0)
  line L62 (90.2, 0) -> (90.2, -10)
  line L63 (90.2, -10) -> (89.8, -10)
  line L64 (89.8, -10) -> (89.8, 0)
  line L65 (89.8, 0) -> (85.2, 0)
  line L66 (85.2, 0) -> (85.2, -5)
  line L67 (85.2, -5) -> (84.8, -5)
  line L68 (84.8, -5) -> (84.8, 0)
  line L69 (84.8, 0) -> (80.2, 0)
  line L70 (80.2, 0) -> (80.2, -10)
  line L71 (80.2, -10) -> (79.8, -10)
  line L72 (79.8, -10) -> (79.8, 0)
  line L73 (79.8, 0) -> (75.2, 0)
  line L74 (75.2, 0) -> (75.2, -5)
  line L75 (75.2, -5) -> (74.8, -5)
  line L76 (74.8, -5) -> (74.8, 0)
  line L77 (74.8, 0) -> (70.2, 0)
  line L78 (70.2, 0) -> (70.2, -10)
  line L79 (70.2, -10) -> (69.8, -10)
  line L80 (69.8, -10) -> (69.8, 0)
  line L81 (69.8, 0) -> (65.2, 0)
  line L82 (65.2, 0) -> (65.2, -5)
  line L83 (65.2, -5) -> (64.8, -5)
  line L84 (64.8, -5) -> (64.8, 0)
  line L85 (64.8, 0) -> (60.2, 0)
  line L86 (60.2, 0) -> (60.2, -10)
  line L87 (60.2, -10) -> (59.8, -10)
  line L88 (59.8, -10) -> (59.8, 0)
  line L89 (59.8, 0) -> (55.2, 0)
  line L90 (55.2, 0) -> (55.2, -5)
  line L91 (55.2, -5) -> (54.8, -5)
  line L92 (54.8, -5) -> (54.8, 0)
  line L93 (54.8, 0) -> (50.2, 0)
  line L94 (50.2, 0) -> (50.2, -10)
  line L95 (50.2, -10) -> (49.8, -10)
  line L96 (49.8, -10) -> (49.8, 0)
  line L97 (49.8, 0) -> (45.2, 0)
  line L98 (45.2, 0) -> (45.2, -5)
  line L99 (45.2, -5) -> (44.8, -5)
  line L100 (44.8, -5) -> (44.8, 0)
  line L101 (44.8, 0) -> (40.2, 0)
  line L102 (40.2, 0) -> (40.2, -10)
  line L103 (40.2, -10) -> (39.8, -10)
  line L104 (39.8, -10) -> (39.8, 0)
  line L105 (39.8, 0) -> (35.2, 0)
  line L106 (35.2, 0) -> (35.2, -5)
  line L107 (35.2, -5) -> (34.8, -5)
  line L108 (34.8, -5) -> (34.8, 0)
  line L109 (34.8, 0) -> (30.2, 0)
  line L110 (30.2, 0) -> (30.2, -10)
  line L111 (30.2, -10) -> (29.8, -10)
  line L112 (29.8, -10) -> (29.8, 0)
  line L113 (29.8, 0) -> (25.2, 0)
  line L114 (25.2, 0) -> (25.2, -5)
  line L115 (25.2, -5) -> (24.8, -5)
  line L116 (24.8, -5) -> (24.8, 0)
  line L117 (24.8, 0) -> (20.2, 0)
  line L118 (20.2, 0) -> (20.2, -10)
  line L119 (20.2, -10) -> (19.8, -10)
